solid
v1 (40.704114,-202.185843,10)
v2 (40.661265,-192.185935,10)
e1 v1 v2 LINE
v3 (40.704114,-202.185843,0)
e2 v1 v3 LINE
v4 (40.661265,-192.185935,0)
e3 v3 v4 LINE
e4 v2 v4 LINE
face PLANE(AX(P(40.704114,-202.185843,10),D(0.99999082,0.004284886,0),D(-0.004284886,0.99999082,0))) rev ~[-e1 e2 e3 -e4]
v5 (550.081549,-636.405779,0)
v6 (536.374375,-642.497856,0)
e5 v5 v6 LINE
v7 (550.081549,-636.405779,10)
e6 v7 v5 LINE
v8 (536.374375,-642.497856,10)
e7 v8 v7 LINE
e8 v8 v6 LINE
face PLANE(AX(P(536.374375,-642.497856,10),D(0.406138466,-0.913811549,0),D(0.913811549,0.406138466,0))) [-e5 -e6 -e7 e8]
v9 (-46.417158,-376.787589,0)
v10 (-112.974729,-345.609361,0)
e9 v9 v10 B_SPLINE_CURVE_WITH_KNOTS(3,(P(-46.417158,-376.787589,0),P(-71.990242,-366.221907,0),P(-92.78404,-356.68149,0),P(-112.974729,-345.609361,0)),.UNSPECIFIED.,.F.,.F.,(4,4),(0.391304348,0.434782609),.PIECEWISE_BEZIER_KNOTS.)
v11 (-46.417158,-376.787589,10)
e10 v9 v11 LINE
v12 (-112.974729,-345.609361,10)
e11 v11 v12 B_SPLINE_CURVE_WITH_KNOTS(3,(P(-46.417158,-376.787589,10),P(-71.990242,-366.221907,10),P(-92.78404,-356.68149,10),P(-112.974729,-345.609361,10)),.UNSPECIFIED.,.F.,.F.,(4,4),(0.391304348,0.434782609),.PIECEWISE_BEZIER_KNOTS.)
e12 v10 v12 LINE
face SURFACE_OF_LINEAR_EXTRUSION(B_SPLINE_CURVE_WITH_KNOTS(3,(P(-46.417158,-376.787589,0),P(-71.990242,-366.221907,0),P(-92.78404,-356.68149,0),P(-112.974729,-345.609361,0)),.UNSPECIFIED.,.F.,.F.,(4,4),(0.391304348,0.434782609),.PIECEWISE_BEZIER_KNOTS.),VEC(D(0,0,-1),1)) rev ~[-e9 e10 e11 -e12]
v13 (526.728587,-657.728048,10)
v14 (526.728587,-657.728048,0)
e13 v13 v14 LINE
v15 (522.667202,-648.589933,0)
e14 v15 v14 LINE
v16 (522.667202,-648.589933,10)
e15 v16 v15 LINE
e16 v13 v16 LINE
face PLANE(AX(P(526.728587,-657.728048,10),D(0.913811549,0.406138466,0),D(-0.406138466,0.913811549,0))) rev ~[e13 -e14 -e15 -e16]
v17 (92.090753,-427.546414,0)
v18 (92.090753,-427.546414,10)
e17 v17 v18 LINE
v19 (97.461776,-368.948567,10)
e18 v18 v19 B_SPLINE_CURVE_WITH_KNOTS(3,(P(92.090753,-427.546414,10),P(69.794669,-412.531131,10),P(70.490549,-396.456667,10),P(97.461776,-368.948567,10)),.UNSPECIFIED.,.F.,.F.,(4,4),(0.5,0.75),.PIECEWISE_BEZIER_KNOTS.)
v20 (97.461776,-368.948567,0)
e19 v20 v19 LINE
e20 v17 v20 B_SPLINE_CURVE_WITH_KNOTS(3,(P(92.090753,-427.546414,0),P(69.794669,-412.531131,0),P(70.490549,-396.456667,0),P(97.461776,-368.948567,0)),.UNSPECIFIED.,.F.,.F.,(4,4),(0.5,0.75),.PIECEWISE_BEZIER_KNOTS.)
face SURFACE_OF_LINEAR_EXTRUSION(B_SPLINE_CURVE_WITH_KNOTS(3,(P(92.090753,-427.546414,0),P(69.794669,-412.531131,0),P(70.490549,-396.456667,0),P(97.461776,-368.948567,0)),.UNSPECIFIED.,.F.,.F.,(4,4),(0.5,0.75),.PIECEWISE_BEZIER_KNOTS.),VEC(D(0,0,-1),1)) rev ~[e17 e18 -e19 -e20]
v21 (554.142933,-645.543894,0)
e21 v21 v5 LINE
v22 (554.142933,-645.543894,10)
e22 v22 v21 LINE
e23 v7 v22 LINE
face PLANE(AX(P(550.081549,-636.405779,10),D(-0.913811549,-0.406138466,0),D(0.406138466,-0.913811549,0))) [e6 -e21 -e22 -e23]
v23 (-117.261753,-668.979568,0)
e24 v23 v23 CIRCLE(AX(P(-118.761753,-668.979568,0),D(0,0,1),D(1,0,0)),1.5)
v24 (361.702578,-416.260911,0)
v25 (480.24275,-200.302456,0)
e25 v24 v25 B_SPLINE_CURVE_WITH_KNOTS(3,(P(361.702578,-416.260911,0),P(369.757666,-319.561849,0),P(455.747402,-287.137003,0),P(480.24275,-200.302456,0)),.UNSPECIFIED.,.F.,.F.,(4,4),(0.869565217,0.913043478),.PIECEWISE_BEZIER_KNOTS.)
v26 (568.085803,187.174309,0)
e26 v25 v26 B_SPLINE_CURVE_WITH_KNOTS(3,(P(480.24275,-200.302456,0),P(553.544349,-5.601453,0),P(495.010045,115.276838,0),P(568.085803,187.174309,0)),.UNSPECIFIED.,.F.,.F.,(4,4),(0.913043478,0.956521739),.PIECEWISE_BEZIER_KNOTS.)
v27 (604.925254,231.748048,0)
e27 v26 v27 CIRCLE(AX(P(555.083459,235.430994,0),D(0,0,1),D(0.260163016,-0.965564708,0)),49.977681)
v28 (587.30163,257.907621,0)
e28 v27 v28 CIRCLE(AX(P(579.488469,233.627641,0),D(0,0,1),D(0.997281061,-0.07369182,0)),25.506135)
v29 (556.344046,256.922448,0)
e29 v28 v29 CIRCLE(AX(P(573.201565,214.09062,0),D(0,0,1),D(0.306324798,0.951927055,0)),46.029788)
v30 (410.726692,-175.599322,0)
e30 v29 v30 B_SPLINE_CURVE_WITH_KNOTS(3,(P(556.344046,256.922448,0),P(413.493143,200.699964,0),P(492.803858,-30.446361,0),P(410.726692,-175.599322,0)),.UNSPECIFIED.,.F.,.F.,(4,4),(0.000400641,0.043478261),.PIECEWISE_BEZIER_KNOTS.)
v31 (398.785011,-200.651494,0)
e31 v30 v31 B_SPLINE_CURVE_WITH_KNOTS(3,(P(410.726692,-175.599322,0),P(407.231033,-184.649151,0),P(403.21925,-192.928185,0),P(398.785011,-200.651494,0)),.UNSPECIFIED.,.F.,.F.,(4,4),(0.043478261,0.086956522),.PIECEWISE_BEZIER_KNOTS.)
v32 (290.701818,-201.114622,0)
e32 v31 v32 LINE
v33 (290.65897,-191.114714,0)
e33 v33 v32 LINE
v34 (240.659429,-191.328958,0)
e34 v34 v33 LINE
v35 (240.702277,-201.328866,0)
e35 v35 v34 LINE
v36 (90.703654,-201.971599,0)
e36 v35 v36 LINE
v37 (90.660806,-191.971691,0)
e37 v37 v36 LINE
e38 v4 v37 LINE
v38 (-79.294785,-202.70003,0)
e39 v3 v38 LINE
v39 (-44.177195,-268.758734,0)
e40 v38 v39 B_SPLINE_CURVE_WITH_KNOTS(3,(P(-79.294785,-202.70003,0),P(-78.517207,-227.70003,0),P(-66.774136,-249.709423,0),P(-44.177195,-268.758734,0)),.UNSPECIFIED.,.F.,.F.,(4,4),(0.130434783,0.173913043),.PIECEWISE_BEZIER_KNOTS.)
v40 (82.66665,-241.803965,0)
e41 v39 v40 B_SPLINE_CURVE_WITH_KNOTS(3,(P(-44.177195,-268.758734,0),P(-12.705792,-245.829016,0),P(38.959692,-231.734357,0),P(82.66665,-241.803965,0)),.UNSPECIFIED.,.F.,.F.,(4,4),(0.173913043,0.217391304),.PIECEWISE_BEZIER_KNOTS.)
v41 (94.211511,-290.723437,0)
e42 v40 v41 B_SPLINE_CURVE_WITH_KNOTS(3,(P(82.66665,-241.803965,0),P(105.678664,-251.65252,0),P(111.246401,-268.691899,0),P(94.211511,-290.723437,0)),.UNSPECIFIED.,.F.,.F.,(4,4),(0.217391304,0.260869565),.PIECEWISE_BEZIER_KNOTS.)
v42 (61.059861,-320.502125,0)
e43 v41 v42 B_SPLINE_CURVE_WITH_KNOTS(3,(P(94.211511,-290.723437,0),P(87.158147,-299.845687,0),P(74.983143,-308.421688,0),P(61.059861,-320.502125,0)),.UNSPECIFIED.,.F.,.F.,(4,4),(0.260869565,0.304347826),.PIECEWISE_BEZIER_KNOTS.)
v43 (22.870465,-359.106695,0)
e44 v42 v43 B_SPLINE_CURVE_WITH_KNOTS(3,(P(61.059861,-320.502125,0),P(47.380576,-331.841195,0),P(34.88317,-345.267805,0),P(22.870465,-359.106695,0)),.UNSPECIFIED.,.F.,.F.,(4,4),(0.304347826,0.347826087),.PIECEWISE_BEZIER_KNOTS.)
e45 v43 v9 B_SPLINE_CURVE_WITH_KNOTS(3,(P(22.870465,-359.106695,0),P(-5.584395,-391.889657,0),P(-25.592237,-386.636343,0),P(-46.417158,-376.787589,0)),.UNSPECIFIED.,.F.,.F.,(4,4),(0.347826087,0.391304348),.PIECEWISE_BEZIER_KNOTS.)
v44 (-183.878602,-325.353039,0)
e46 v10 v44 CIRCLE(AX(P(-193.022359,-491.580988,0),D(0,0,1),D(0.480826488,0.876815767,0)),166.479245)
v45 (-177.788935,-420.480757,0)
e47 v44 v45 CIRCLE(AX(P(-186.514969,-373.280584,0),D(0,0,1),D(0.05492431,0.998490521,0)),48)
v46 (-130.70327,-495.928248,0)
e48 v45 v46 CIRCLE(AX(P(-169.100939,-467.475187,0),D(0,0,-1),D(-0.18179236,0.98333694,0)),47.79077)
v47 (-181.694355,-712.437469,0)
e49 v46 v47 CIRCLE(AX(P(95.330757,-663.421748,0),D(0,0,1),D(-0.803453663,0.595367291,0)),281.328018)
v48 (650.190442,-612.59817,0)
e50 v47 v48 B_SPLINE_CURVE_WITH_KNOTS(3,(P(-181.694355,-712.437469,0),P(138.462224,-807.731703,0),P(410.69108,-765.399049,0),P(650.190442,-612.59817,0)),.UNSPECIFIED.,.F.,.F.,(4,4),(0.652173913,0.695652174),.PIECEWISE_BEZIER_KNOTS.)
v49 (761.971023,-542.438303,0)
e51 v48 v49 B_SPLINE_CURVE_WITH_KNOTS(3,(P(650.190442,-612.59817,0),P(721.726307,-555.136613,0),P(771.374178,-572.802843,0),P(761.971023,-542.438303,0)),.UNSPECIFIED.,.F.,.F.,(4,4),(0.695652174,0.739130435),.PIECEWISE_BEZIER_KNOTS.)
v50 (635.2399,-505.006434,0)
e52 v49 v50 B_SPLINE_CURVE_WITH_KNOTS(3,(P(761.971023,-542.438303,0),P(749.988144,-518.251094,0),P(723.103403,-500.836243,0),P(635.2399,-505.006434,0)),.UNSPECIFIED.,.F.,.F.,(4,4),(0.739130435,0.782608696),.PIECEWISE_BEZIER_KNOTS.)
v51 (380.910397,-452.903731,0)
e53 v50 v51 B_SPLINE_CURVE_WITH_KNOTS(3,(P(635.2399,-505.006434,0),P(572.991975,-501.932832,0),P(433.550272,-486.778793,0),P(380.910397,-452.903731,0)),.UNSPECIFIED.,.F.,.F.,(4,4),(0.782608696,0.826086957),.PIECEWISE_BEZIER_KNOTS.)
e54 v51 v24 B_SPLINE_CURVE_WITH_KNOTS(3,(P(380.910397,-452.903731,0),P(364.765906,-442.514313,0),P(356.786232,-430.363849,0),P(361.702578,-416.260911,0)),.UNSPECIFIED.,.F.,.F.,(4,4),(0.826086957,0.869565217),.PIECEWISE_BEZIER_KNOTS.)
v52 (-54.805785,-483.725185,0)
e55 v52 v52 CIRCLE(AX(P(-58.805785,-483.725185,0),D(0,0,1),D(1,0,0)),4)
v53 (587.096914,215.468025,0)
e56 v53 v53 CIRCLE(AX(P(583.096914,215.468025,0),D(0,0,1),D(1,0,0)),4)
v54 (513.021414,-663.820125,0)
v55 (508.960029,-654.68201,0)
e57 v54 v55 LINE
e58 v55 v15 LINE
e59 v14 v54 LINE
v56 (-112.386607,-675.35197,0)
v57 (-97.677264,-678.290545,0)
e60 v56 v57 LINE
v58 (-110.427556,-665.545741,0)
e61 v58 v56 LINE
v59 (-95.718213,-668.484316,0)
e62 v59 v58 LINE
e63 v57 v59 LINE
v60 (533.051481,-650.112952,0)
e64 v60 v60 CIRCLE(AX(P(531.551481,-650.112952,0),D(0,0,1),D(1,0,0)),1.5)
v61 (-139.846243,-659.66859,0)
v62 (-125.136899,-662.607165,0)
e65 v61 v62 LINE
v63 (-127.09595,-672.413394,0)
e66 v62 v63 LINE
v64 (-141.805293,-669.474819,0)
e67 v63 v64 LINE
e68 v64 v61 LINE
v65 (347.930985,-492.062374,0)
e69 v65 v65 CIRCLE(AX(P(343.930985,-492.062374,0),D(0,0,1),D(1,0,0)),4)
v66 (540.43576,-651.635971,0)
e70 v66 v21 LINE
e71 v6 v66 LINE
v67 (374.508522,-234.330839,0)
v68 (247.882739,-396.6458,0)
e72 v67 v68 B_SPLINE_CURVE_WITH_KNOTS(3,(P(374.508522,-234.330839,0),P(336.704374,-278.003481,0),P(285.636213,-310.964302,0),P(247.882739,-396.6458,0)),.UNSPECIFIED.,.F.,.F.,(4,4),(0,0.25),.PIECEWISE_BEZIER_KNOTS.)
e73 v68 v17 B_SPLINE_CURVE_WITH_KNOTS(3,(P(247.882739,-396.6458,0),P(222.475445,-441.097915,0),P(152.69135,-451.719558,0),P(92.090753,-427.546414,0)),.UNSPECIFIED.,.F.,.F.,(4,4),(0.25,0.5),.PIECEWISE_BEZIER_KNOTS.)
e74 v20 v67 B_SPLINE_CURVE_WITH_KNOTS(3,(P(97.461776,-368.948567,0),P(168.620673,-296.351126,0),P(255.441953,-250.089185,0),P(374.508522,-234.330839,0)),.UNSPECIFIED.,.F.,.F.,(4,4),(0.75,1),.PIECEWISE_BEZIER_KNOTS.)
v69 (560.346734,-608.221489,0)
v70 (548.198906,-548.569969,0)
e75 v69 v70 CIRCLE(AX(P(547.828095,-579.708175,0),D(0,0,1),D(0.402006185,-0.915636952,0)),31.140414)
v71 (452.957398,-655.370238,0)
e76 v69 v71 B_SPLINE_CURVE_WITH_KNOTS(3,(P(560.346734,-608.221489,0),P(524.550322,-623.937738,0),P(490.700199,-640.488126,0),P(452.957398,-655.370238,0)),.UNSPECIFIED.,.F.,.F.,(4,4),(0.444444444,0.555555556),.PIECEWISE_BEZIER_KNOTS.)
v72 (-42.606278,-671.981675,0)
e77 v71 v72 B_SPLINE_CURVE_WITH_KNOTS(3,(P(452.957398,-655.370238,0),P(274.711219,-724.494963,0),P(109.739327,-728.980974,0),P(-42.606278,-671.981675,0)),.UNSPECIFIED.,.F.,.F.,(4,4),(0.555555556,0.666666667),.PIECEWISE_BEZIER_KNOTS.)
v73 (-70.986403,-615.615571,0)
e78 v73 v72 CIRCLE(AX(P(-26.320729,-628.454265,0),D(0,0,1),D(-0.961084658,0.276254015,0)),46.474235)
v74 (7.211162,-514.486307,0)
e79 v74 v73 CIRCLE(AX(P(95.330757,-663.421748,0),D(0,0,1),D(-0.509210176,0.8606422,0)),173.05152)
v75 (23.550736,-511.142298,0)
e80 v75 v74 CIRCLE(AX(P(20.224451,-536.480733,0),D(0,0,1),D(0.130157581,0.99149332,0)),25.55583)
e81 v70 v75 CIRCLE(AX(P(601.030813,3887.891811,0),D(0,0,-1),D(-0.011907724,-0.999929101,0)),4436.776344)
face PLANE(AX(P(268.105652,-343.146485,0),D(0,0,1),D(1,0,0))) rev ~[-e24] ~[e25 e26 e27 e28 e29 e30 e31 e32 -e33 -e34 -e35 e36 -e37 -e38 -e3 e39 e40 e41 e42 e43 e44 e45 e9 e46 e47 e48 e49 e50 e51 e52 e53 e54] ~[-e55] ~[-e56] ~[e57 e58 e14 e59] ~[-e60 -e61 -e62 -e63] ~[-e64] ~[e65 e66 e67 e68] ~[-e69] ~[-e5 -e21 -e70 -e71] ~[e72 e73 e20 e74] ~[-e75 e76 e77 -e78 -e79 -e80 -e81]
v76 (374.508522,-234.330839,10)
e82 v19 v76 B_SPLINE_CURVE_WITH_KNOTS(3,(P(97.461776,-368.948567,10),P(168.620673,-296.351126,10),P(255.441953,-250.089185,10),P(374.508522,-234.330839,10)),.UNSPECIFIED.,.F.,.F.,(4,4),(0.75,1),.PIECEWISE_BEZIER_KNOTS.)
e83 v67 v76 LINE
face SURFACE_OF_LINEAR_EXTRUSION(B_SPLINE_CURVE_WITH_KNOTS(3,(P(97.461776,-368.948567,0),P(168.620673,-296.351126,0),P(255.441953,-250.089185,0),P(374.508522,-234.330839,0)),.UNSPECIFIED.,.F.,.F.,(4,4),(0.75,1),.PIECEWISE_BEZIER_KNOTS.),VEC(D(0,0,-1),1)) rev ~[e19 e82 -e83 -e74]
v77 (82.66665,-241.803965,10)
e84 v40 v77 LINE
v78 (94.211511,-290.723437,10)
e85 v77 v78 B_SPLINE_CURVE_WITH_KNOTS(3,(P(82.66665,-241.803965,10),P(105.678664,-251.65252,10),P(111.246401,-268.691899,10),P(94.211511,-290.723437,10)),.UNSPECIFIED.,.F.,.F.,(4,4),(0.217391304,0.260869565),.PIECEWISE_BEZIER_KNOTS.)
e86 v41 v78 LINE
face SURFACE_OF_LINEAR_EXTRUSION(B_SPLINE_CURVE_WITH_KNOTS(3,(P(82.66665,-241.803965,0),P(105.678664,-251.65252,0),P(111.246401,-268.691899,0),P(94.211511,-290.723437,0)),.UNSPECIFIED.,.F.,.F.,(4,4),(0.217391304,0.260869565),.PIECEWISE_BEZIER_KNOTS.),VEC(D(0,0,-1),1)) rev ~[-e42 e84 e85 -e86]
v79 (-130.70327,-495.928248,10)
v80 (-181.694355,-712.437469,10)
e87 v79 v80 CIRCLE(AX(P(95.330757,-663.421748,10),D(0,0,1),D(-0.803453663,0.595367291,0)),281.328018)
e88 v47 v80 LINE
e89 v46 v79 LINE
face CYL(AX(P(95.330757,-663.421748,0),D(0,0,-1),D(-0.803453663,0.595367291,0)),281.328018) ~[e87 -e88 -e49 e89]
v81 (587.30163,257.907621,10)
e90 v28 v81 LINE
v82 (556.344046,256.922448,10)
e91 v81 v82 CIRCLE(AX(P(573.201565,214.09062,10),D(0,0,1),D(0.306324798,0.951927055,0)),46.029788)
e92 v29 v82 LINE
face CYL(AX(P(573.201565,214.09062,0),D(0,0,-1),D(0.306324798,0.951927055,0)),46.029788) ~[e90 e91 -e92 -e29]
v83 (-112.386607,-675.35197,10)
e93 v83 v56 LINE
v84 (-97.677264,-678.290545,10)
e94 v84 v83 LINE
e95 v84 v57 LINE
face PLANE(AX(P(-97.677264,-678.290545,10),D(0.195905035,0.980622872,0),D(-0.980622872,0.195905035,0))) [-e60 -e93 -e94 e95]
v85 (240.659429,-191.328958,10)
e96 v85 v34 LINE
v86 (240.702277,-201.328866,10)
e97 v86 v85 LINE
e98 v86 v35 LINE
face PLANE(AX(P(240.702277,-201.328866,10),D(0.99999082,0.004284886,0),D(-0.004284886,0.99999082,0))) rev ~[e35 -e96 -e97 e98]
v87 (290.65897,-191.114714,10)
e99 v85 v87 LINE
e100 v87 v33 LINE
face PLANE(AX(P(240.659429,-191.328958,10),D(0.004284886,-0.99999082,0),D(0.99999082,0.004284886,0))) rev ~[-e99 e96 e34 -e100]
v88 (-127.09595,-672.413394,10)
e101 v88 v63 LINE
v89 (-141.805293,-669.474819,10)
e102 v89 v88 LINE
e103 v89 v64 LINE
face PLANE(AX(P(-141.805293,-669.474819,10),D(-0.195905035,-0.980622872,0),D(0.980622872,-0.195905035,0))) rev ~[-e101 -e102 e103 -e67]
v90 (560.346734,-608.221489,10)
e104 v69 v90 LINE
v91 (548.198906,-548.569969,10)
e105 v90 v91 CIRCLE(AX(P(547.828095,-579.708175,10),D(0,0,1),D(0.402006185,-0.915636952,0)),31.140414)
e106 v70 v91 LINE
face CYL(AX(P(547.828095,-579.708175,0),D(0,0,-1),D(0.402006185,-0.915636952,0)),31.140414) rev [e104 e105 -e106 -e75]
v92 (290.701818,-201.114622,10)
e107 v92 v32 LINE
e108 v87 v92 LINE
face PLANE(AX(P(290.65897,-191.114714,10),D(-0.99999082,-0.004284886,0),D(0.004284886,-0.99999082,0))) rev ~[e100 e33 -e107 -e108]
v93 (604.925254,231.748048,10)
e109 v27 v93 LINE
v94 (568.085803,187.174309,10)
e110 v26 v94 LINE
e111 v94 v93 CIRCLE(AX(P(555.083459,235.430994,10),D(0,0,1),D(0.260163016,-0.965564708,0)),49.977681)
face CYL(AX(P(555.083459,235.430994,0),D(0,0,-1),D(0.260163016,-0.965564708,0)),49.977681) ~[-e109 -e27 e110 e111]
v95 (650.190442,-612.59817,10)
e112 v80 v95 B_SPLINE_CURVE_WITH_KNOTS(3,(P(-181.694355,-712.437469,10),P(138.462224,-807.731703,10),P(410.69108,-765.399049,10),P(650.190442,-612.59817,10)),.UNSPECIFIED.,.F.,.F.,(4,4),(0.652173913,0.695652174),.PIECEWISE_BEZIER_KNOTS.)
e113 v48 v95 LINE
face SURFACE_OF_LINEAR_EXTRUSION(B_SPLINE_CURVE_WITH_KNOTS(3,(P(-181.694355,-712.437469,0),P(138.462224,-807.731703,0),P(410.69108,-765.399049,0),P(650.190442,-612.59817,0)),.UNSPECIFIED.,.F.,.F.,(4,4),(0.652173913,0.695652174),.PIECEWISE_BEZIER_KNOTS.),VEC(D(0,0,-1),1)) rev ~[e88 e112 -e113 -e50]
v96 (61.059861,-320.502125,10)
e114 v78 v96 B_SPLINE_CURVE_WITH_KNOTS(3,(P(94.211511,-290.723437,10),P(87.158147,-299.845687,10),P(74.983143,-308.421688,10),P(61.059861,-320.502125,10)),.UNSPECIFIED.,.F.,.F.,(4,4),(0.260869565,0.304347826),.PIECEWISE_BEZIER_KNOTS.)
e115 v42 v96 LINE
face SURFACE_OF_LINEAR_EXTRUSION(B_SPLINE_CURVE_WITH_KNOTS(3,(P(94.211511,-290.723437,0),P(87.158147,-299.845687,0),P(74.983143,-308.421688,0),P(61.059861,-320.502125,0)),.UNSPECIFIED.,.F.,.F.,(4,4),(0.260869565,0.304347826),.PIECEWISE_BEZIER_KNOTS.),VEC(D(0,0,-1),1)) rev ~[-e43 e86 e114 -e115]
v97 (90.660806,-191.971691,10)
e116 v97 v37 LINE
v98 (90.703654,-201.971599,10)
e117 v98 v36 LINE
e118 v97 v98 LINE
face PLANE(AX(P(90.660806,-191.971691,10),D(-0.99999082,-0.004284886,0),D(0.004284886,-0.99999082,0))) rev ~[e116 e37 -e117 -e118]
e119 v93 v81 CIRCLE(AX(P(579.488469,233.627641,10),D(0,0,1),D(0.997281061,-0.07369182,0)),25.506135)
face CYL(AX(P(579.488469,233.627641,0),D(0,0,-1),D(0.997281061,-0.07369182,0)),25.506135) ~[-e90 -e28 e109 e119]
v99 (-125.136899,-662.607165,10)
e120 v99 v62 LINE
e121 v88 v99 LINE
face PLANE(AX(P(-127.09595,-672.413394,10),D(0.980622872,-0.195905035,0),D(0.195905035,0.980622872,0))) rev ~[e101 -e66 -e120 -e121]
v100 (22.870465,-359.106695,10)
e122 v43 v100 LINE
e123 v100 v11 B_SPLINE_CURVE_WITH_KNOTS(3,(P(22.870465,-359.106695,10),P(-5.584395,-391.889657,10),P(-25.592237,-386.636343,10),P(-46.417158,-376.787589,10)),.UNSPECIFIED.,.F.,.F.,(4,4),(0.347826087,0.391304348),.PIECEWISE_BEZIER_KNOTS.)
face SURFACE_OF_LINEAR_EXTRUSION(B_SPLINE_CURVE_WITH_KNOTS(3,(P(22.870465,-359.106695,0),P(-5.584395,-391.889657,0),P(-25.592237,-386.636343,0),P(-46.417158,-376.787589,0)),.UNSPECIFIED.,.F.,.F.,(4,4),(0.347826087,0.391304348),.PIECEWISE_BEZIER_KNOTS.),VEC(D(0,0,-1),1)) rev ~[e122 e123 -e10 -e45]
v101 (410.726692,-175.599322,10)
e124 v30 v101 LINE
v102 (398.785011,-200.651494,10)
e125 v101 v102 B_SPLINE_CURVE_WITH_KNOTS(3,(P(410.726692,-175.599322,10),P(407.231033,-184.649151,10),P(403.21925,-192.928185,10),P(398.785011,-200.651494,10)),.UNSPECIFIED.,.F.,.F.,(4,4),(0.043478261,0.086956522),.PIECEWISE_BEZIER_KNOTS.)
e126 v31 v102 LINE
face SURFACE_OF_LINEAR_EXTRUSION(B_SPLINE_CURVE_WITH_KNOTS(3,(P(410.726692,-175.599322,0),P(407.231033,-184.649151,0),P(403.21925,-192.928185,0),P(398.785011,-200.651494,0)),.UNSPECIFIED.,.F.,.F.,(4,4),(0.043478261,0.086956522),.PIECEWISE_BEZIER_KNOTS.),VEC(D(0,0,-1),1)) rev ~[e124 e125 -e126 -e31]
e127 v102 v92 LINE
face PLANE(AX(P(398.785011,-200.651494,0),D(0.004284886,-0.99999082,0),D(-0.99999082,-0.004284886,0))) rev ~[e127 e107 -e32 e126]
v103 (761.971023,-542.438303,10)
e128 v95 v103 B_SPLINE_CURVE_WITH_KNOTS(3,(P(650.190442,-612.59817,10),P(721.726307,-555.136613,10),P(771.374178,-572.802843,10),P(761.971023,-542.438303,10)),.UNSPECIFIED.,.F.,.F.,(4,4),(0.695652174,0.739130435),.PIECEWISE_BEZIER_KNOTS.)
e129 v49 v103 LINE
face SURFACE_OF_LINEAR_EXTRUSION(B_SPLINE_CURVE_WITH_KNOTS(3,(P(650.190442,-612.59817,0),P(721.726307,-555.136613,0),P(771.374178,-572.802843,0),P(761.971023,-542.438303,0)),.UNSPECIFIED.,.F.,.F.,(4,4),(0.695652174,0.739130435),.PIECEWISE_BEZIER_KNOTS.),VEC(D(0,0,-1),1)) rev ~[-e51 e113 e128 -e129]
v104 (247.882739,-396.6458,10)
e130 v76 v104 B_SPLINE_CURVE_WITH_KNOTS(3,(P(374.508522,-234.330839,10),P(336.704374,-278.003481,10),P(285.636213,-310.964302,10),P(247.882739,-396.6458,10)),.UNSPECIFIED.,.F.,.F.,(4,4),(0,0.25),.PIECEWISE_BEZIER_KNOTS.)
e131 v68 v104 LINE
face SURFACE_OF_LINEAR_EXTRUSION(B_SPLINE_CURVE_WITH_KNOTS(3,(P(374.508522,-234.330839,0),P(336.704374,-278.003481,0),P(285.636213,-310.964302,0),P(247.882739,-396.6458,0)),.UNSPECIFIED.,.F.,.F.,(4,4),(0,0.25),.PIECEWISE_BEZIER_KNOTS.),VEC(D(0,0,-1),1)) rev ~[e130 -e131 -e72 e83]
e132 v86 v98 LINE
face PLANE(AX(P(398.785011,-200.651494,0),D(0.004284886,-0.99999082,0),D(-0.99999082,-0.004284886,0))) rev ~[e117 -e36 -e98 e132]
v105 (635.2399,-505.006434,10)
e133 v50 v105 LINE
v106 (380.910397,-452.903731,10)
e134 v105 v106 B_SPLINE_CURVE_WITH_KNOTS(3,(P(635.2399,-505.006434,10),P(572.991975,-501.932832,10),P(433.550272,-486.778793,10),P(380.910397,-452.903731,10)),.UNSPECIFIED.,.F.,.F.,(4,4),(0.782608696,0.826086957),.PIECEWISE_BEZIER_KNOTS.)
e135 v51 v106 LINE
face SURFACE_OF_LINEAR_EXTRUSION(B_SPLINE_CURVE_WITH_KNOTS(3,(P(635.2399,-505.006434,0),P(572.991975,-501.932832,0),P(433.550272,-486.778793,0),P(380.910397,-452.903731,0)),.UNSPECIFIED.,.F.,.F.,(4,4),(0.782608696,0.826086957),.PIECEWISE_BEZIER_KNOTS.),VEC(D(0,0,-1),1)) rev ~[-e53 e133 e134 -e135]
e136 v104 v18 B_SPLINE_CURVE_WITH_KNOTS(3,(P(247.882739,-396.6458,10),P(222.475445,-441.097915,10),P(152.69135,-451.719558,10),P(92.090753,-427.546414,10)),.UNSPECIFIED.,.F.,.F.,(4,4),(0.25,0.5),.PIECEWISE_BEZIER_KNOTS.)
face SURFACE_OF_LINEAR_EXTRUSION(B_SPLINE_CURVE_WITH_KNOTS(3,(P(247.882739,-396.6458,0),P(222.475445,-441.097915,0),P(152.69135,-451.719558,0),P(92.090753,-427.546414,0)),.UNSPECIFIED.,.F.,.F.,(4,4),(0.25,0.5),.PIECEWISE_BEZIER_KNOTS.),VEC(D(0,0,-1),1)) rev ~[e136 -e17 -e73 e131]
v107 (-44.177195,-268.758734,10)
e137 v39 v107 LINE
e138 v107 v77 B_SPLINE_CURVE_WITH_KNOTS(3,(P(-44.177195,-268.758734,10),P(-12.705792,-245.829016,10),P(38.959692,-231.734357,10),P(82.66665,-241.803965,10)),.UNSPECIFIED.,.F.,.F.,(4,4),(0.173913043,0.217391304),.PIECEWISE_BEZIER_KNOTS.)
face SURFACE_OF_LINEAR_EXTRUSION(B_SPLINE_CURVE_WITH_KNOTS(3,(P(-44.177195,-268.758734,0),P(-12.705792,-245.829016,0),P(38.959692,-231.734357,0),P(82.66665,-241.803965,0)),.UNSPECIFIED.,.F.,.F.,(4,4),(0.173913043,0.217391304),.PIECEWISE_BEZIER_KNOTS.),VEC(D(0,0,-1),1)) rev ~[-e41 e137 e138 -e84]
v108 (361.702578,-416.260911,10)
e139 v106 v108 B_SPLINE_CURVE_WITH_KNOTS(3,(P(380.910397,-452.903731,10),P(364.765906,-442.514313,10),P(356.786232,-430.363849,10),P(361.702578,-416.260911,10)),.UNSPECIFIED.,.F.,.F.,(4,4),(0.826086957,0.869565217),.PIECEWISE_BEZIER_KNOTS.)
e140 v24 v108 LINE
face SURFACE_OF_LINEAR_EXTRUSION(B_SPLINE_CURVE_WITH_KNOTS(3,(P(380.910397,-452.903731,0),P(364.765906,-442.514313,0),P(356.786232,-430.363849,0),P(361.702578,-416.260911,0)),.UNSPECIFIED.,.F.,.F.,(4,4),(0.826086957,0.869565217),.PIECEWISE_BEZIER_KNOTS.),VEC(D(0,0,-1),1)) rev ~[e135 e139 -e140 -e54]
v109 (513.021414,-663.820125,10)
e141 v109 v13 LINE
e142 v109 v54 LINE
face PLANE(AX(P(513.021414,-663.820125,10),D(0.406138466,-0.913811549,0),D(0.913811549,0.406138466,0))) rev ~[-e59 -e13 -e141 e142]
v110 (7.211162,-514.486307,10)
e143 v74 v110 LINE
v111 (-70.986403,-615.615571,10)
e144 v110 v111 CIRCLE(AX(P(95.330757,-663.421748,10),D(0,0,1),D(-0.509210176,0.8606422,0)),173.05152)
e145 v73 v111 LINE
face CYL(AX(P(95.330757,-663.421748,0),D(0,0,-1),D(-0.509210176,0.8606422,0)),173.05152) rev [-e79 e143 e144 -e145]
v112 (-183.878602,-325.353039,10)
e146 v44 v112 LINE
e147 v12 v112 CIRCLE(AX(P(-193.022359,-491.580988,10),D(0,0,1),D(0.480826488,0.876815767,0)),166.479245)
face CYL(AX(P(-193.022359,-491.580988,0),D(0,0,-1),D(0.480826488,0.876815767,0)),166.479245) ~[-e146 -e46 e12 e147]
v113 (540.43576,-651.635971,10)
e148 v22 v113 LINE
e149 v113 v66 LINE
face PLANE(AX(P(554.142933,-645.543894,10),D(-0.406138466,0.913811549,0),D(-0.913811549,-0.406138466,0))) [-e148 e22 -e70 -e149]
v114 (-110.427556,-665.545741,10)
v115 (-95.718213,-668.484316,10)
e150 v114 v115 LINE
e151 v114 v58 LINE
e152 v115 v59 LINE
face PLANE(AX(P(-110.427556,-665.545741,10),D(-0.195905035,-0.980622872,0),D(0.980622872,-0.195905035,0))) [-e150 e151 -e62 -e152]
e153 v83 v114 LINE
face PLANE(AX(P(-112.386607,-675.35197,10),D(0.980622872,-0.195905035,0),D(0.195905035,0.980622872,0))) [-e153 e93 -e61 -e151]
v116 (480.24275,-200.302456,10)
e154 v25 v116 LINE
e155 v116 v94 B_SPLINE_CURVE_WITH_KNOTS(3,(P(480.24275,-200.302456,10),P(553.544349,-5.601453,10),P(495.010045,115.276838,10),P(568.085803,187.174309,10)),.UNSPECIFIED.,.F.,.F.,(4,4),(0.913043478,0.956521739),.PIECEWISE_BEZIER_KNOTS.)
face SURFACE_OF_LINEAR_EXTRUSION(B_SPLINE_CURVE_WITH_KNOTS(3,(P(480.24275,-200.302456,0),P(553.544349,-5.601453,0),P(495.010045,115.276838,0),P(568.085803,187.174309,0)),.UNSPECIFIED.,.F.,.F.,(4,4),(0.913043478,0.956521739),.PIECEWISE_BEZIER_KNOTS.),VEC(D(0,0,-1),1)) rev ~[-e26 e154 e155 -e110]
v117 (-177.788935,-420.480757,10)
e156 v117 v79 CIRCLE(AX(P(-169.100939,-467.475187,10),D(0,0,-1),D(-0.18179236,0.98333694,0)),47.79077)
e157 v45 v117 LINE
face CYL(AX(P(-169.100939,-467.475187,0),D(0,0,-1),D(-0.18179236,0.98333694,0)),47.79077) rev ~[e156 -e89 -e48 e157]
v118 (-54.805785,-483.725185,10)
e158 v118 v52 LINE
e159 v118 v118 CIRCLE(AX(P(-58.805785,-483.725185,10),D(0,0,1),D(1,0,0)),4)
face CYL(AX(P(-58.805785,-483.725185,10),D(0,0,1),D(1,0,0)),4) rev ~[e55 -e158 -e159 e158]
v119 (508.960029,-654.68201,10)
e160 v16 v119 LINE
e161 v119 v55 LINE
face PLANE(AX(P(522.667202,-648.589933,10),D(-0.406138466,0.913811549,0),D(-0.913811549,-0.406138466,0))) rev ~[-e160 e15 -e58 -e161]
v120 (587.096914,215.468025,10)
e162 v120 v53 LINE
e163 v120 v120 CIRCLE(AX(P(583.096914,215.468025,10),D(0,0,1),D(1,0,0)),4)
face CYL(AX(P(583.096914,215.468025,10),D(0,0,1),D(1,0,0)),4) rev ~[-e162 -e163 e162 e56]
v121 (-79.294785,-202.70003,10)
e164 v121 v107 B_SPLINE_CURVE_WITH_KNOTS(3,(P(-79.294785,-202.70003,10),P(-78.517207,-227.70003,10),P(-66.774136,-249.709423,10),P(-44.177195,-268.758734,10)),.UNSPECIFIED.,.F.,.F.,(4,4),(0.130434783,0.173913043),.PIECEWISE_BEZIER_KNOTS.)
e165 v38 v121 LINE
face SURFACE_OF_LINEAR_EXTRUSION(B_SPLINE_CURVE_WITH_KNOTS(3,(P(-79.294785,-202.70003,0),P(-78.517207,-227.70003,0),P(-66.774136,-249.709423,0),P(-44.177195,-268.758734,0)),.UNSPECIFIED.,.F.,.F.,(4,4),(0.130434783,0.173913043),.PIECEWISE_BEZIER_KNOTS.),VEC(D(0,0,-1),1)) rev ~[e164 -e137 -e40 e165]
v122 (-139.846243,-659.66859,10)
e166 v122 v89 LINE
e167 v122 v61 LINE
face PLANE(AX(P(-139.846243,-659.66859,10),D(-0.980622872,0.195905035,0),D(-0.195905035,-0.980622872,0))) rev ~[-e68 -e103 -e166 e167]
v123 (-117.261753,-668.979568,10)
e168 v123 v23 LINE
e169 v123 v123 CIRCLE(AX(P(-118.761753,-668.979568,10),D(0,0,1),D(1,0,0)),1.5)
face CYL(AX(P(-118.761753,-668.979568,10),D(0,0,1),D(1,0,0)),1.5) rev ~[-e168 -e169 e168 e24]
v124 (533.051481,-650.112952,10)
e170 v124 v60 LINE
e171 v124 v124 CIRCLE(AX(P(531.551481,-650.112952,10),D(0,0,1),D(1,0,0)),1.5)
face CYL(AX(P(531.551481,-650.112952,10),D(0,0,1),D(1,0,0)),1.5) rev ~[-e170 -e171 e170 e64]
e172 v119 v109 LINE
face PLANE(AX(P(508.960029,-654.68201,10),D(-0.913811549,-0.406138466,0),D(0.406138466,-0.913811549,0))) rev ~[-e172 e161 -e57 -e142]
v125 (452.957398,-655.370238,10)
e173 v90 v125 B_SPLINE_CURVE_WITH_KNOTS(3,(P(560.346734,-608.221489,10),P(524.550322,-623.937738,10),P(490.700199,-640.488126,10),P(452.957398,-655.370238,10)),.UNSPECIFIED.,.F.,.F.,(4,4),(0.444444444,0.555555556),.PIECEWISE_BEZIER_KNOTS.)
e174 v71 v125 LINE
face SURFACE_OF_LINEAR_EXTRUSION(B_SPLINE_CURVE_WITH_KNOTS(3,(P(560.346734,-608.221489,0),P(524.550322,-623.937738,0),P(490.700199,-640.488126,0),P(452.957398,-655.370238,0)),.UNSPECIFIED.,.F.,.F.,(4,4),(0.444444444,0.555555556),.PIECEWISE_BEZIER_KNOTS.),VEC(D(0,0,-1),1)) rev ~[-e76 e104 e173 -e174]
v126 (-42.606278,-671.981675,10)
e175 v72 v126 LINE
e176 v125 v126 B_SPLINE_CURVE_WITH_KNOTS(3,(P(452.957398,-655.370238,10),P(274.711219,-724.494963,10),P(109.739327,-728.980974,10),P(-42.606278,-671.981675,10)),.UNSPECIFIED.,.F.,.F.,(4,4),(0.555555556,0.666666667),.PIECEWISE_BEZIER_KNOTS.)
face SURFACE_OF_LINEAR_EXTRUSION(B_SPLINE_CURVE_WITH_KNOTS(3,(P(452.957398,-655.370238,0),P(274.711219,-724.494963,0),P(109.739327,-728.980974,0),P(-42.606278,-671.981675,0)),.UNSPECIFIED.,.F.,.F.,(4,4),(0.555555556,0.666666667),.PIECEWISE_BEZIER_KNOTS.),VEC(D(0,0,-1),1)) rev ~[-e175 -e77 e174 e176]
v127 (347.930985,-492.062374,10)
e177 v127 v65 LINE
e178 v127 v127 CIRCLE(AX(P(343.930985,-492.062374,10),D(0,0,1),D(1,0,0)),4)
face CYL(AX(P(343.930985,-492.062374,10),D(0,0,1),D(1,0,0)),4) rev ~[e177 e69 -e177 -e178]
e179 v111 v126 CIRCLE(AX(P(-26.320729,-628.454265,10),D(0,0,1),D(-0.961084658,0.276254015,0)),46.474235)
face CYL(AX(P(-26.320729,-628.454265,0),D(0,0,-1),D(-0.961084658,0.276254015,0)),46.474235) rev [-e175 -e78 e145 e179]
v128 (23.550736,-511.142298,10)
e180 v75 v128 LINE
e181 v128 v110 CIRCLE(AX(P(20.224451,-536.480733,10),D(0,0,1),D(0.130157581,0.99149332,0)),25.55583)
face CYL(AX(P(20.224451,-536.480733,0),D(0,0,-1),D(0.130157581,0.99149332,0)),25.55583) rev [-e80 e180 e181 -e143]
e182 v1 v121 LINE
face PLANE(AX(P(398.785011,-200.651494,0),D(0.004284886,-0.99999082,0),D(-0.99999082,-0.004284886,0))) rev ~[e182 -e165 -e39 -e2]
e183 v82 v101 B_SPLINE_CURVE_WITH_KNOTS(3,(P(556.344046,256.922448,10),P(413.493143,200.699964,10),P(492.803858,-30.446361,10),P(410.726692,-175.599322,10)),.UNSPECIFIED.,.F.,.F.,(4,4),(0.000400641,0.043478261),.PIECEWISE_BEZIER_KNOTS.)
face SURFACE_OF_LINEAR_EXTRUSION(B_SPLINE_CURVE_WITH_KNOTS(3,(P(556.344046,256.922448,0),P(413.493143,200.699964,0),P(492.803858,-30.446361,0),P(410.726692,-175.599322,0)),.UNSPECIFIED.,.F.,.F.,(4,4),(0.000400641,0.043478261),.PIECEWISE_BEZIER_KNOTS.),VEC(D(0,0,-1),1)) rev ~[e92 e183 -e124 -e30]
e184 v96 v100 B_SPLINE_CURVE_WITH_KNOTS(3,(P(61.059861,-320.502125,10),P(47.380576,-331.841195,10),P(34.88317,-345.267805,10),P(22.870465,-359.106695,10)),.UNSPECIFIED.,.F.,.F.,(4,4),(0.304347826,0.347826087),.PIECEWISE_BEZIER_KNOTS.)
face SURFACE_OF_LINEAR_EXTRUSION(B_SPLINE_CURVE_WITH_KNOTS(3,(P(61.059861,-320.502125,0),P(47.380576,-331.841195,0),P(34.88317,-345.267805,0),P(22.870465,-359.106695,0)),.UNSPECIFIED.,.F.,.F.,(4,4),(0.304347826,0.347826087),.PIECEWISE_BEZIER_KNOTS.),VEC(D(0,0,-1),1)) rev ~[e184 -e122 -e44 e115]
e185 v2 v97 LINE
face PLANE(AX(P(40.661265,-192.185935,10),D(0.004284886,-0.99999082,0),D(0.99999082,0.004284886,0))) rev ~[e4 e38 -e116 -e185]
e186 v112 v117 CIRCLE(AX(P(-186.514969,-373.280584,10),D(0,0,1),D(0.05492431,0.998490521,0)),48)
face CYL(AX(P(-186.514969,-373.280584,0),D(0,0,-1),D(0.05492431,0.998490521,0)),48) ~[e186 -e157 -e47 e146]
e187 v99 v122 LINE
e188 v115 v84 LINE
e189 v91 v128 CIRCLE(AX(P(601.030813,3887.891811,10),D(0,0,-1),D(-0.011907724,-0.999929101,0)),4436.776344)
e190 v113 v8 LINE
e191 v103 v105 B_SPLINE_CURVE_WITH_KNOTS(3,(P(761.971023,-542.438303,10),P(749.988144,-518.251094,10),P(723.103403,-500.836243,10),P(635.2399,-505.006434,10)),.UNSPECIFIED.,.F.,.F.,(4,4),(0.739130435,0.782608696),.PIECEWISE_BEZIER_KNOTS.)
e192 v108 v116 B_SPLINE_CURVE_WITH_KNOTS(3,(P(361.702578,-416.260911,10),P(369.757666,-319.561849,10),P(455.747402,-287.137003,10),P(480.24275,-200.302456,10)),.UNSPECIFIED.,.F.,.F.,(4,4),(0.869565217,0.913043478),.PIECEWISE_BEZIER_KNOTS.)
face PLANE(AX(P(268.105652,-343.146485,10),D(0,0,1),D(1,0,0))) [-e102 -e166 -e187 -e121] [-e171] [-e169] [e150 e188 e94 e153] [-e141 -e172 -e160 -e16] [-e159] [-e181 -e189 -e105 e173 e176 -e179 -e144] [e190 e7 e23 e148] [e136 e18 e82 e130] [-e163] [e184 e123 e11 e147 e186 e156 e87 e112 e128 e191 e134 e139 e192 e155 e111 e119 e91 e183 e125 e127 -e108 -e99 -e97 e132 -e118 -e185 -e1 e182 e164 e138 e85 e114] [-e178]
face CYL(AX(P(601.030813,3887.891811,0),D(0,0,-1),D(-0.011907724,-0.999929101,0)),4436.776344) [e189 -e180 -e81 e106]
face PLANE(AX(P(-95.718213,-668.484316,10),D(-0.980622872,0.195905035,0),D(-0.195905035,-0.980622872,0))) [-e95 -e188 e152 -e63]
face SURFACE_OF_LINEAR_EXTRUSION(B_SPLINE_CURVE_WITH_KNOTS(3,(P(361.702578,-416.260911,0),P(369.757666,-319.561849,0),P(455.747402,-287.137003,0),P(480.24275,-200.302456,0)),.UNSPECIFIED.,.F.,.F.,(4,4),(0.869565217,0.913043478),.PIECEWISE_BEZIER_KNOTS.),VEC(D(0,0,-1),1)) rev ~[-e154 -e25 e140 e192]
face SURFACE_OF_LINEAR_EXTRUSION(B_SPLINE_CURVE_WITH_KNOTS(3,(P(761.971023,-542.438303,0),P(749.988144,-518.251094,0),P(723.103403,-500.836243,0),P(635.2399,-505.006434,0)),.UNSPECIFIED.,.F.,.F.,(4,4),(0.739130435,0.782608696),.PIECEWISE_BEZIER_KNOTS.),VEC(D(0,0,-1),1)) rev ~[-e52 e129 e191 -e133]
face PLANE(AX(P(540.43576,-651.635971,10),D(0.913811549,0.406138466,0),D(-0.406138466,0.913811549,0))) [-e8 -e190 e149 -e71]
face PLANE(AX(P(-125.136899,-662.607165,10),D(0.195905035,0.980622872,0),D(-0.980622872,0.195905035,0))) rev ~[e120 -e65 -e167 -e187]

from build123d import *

# Parameters (mm, degrees)
EXTRUDE_3344_DEPTH     = 10
EXTRUDE_7001_DEPTH     = 10
CUT_EXTRUDE_7885_REACH = 1081.252
SKETCH6_R              = 1.5
SKETCH10_R             = 4
CUT_EXTRUDE2_DEPTH     = 10


with BuildPart() as part:
    # Sketch 366 → Extrude 3344 (new body)
    with BuildSketch(Plane.XY):
        with BuildLine():
            Line((398.785011417, -200.651493516), (-79.294784876, -202.700029576))
            add(Edge.make_bspline(
                [(-79.294784876, -202.700029576), (-78.517207033, -227.700030074), (-66.77413567, -249.709423293), (-44.177194857, -268.758733778)],
                knots=[0.130434783, 0.130434783, 0.130434783, 0.130434783, 0.173913043, 0.173913043, 0.173913043, 0.173913043], degree=3))
            add(Edge.make_bspline(
                [(-44.177194857, -268.758733778), (-12.705791537, -245.829015584), (38.959692419, -231.734357298), (82.666649693, -241.803965427)],
                knots=[0.173913043, 0.173913043, 0.173913043, 0.173913043, 0.217391304, 0.217391304, 0.217391304, 0.217391304], degree=3))
            add(Edge.make_bspline(
                [(82.666649693, -241.803965427), (105.678664452, -251.652519997), (111.246401119, -268.691898993), (94.211511027, -290.72343747)],
                knots=[0.217391304, 0.217391304, 0.217391304, 0.217391304, 0.260869565, 0.260869565, 0.260869565, 0.260869565], degree=3))
            add(Edge.make_bspline(
                [(94.211511027, -290.72343747), (87.158146802, -299.84568745), (74.983143168, -308.421687748), (61.059861243, -320.502125148)],
                knots=[0.260869565, 0.260869565, 0.260869565, 0.260869565, 0.304347826, 0.304347826, 0.304347826, 0.304347826], degree=3))
            add(Edge.make_bspline(
                [(61.059861243, -320.502125148), (47.380576162, -331.841195194), (34.883169502, -345.267804883), (22.870464668, -359.106695422)],
                knots=[0.304347826, 0.304347826, 0.304347826, 0.304347826, 0.347826087, 0.347826087, 0.347826087, 0.347826087], degree=3))
            add(Edge.make_bspline(
                [(22.870464668, -359.106695422), (-5.584395486, -391.889656597), (-25.592236503, -386.636342684), (-46.417157713, -376.787588607)],
                knots=[0.347826087, 0.347826087, 0.347826087, 0.347826087, 0.391304348, 0.391304348, 0.391304348, 0.391304348], degree=3))
            add(Edge.make_bspline(
                [(-46.417157713, -376.787588607), (-71.990241561, -366.221906762), (-92.784039707, -356.68149048), (-112.974728727, -345.609360564)],
                knots=[0.391304348, 0.391304348, 0.391304348, 0.391304348, 0.434782609, 0.434782609, 0.434782609, 0.434782609], degree=3))
            ThreePointArc((-112.974728727, -345.609360564), (-147.291018167, -331.50605668), (-183.878601839, -325.353039337))
            ThreePointArc((-183.878601839, -325.353039337), (-234.41691777, -376.347060605), (-177.788935429, -420.480757462))
            ThreePointArc((-177.788935429, -420.480757462), (-128.557787466, -442.172804122), (-130.703269603, -495.928247794))
            ThreePointArc((-130.703269603, -495.928247794), (-178.505297895, -598.929354982), (-181.694355183, -712.437468808))
            add(Edge.make_bspline(
                [(-181.694355183, -712.437468808), (138.462224148, -807.731703363), (410.691079854, -765.39904884), (650.190442214, -612.598169561)],
                knots=[0.652173913, 0.652173913, 0.652173913, 0.652173913, 0.695652174, 0.695652174, 0.695652174, 0.695652174], degree=3))
            add(Edge.make_bspline(
                [(650.190442214, -612.598169561), (721.726306985, -555.13661338), (771.374178439, -572.802842814), (761.971022851, -542.438303349)],
                knots=[0.695652174, 0.695652174, 0.695652174, 0.695652174, 0.739130435, 0.739130435, 0.739130435, 0.739130435], degree=3))
            add(Edge.make_bspline(
                [(761.971022851, -542.438303349), (749.988144288, -518.251093648), (723.103402832, -500.836242812), (635.239899657, -505.006434182)],
                knots=[0.739130435, 0.739130435, 0.739130435, 0.739130435, 0.782608696, 0.782608696, 0.782608696, 0.782608696], degree=3))
            add(Edge.make_bspline(
                [(635.239899657, -505.006434182), (572.991975282, -501.932832065), (433.550272387, -486.778792548), (380.910397107, -452.903731023)],
                knots=[0.782608696, 0.782608696, 0.782608696, 0.782608696, 0.826086957, 0.826086957, 0.826086957, 0.826086957], degree=3))
            add(Edge.make_bspline(
                [(380.910397107, -452.903731023), (364.765905966, -442.514313456), (356.786231562, -430.363849161), (361.702578451, -416.260911342)],
                knots=[0.826086957, 0.826086957, 0.826086957, 0.826086957, 0.869565217, 0.869565217, 0.869565217, 0.869565217], degree=3))
            add(Edge.make_bspline(
                [(361.702578451, -416.260911342), (369.757666434, -319.561849491), (455.747401527, -287.137003064), (480.242749516, -200.302456329)],
                knots=[0.869565217, 0.869565217, 0.869565217, 0.869565217, 0.913043478, 0.913043478, 0.913043478, 0.913043478], degree=3))
            add(Edge.make_bspline(
                [(480.242749516, -200.302456329), (553.544349425, -5.601453319), (495.010045056, 115.276837959), (568.085803242, 187.174308847)],
                knots=[0.913043478, 0.913043478, 0.913043478, 0.913043478, 0.956521739, 0.956521739, 0.956521739, 0.956521739], degree=3))
            ThreePointArc((568.085803242, 187.174308847), (593.606841589, 203.592061702), (604.925253944, 231.748047725))
            ThreePointArc((604.925253944, 231.748047725), (600.64196866, 247.878688747), (587.30163028, 257.907621119))
            ThreePointArc((587.30163028, 257.907621119), (571.737485415, 260.097118561), (556.344046154, 256.922448156))
            add(Edge.make_bspline(
                [(556.344046154, 256.922448156), (413.493143177, 200.699964154), (492.80385804, -30.446360595), (410.726691822, -175.599321984)],
                knots=[0.000400641, 0.000400641, 0.000400641, 0.000400641, 0.043478261, 0.043478261, 0.043478261, 0.043478261], degree=3))
            add(Edge.make_bspline(
                [(410.726691822, -175.599321984), (407.231033021, -184.649150987), (403.219250068, -192.928185379), (398.785011417, -200.651493516)],
                knots=[0.043478261, 0.043478261, 0.043478261, 0.043478261, 0.086956522, 0.086956522, 0.086956522, 0.086956522], degree=3))
        make_face()
        with BuildLine():
            ThreePointArc((560.346734066, -608.221488629), (578.34219742, -573.494082411), (548.198906447, -548.569968521))
            ThreePointArc((548.198906447, -548.569968521), (285.319700334, -537.637629059), (23.550736383, -511.142298049))
            ThreePointArc((23.550736383, -511.142298049), (15.100477301, -511.443853236), (7.211162456, -514.486307076))
            ThreePointArc((7.211162456, -514.486307076), (-41.568101768, -557.565567627), (-70.986403303, -615.615570579))
            ThreePointArc((-70.986403303, -615.615570579), (-67.830334276, -649.354197638), (-42.606278131, -671.981674723))
            add(Edge.make_bspline(
                [(452.957398359, -655.370237863), (274.711219353, -724.494962923), (109.739326577, -728.980973594), (-42.606278131, -671.981674723)],
                knots=[0.555555556, 0.555555556, 0.555555556, 0.555555556, 0.666666667, 0.666666667, 0.666666667, 0.666666667], degree=3))
            add(Edge.make_bspline(
                [(560.346734066, -608.221488629), (524.550322081, -623.937738374), (490.70019891, -640.488126146), (452.957398359, -655.370237863)],
                knots=[0.444444444, 0.444444444, 0.444444444, 0.444444444, 0.555555556, 0.555555556, 0.555555556, 0.555555556], degree=3))
        make_face(mode=Mode.SUBTRACT)
        with BuildLine():
            add(Edge.make_bspline(
                [(97.461776435, -368.948566513), (168.620673064, -296.351125936), (255.441952596, -250.089184531), (374.508522413, -234.330838847)],
                knots=[0.75, 0.75, 0.75, 0.75, 1, 1, 1, 1], degree=3))
            add(Edge.make_bspline(
                [(374.508522413, -234.330838847), (336.704373514, -278.003480948), (285.636212987, -310.964302456), (247.882738821, -396.645799506)],
                knots=[0, 0, 0, 0, 0.25, 0.25, 0.25, 0.25], degree=3))
            add(Edge.make_bspline(
                [(247.882738821, -396.645799506), (222.475445143, -441.097914765), (152.691350033, -451.719558275), (92.090753497, -427.546413805)],
                knots=[0.25, 0.25, 0.25, 0.25, 0.5, 0.5, 0.5, 0.5], degree=3))
            add(Edge.make_bspline(
                [(92.090753497, -427.546413805), (69.794668972, -412.531131284), (70.490548771, -396.456667038), (97.461776435, -368.948566513)],
                knots=[0.5, 0.5, 0.5, 0.5, 0.75, 0.75, 0.75, 0.75], degree=3))
        make_face(mode=Mode.SUBTRACT)
    extrude(amount=EXTRUDE_3344_DEPTH)

    # Sketch5 → Extrude 7001 (add)
    with BuildSketch(Plane.XY.offset(10)):
        Polygon((40.661264648, -192.185935101), (90.66080564, -191.971690819), (90.703654496, -201.971599017), (40.704113505, -202.185843299), align=None)
        Polygon((240.659428615, -191.328957973), (290.658969607, -191.114713691), (290.701818463, -201.114621889), (240.702277472, -201.328866171), align=None)
    extrude(amount=-EXTRUDE_7001_DEPTH)

    # Sketch6 → Cut-Extrude 7885 (cut, up to next)
    with BuildSketch(Plane.XY.offset(10), mode=Mode.PRIVATE) as cut_extrude_7885_sk1:
        with Locations((531.551481114, -650.112952006)):
            Circle(SKETCH6_R)
    cut_extrude_7885_tool1 = extrude(cut_extrude_7885_sk1.sketch, amount=-CUT_EXTRUDE_7885_REACH, mode=Mode.PRIVATE) & part.part
    # Sketch6 → Cut-Extrude 7885 (cut, up to next)
    with BuildSketch(Plane.XY.offset(10), mode=Mode.PRIVATE) as cut_extrude_7885_sk2:
        with Locations((-118.7617531, -668.979567573)):
            Circle(SKETCH6_R)
    cut_extrude_7885_tool2 = extrude(cut_extrude_7885_sk2.sketch, amount=-CUT_EXTRUDE_7885_REACH, mode=Mode.PRIVATE) & part.part
    # Sketch6 → Cut-Extrude 7885 (cut, up to next)
    with BuildSketch(Plane.XY.offset(10), mode=Mode.PRIVATE) as cut_extrude_7885_sk3:
        Polygon((-139.846242547, -659.668589925), (-141.805292897, -669.474818645), (-127.095949816, -672.413394171), (-125.136899465, -662.60716545), align=None)
    cut_extrude_7885_tool3 = extrude(cut_extrude_7885_sk3.sketch, amount=-CUT_EXTRUDE_7885_REACH, mode=Mode.PRIVATE) & part.part
    # Sketch6 → Cut-Extrude 7885 (cut, up to next)
    with BuildSketch(Plane.XY.offset(10), mode=Mode.PRIVATE) as cut_extrude_7885_sk4:
        Polygon((-112.386606734, -675.351969696), (-110.427556384, -665.545740975), (-95.718213303, -668.4843165), (-97.677263653, -678.290545221), align=None)
    cut_extrude_7885_tool4 = extrude(cut_extrude_7885_sk4.sketch, amount=-CUT_EXTRUDE_7885_REACH, mode=Mode.PRIVATE) & part.part
    # Sketch6 → Cut-Extrude 7885 (cut, up to next)
    with BuildSketch(Plane.XY.offset(10), mode=Mode.PRIVATE) as cut_extrude_7885_sk5:
        Polygon((554.142933289, -645.543894263), (540.435760059, -651.635971254), (536.374375399, -642.497855768), (550.081548628, -636.405778777), align=None)
    cut_extrude_7885_tool5 = extrude(cut_extrude_7885_sk5.sketch, amount=-CUT_EXTRUDE_7885_REACH, mode=Mode.PRIVATE) & part.part
    # Sketch6 → Cut-Extrude 7885 (cut, up to next)
    with BuildSketch(Plane.XY.offset(10), mode=Mode.PRIVATE) as cut_extrude_7885_sk6:
        Polygon((522.667202169, -648.589932758), (508.96002894, -654.682009749), (513.021413601, -663.820125235), (526.72858683, -657.728048245), align=None)
    cut_extrude_7885_tool6 = extrude(cut_extrude_7885_sk6.sketch, amount=-CUT_EXTRUDE_7885_REACH, mode=Mode.PRIVATE) & part.part
    add(cut_extrude_7885_tool1.solids().sort_by_distance((531.551481, -650.112952, 10))[0], mode=Mode.SUBTRACT)
    add(cut_extrude_7885_tool2.solids().sort_by_distance((-118.761753, -668.979568, 10))[0], mode=Mode.SUBTRACT)
    add(cut_extrude_7885_tool3.solids().sort_by_distance((-133.471096, -666.040992, 10))[0], mode=Mode.SUBTRACT)
    add(cut_extrude_7885_tool4.solids().sort_by_distance((-104.05241, -671.918143, 10))[0], mode=Mode.SUBTRACT)
    add(cut_extrude_7885_tool5.solids().sort_by_distance((545.258654, -644.020875, 10))[0], mode=Mode.SUBTRACT)
    add(cut_extrude_7885_tool6.solids().sort_by_distance((517.844308, -656.205029, 10))[0], mode=Mode.SUBTRACT)

    # Sketch10 → Cut-Extrude2 (cut)
    with BuildSketch(Plane.XY.offset(10)):
        with Locations((-58.805785282, -483.725185308)):
            Circle(SKETCH10_R)
        with Locations((343.930985097, -492.062373655)):
            Circle(SKETCH10_R)
        with Locations((583.096913772, 215.46802458)):
            Circle(SKETCH10_R)
    extrude(amount=-CUT_EXTRUDE2_DEPTH, mode=Mode.SUBTRACT)


solid = part.part
